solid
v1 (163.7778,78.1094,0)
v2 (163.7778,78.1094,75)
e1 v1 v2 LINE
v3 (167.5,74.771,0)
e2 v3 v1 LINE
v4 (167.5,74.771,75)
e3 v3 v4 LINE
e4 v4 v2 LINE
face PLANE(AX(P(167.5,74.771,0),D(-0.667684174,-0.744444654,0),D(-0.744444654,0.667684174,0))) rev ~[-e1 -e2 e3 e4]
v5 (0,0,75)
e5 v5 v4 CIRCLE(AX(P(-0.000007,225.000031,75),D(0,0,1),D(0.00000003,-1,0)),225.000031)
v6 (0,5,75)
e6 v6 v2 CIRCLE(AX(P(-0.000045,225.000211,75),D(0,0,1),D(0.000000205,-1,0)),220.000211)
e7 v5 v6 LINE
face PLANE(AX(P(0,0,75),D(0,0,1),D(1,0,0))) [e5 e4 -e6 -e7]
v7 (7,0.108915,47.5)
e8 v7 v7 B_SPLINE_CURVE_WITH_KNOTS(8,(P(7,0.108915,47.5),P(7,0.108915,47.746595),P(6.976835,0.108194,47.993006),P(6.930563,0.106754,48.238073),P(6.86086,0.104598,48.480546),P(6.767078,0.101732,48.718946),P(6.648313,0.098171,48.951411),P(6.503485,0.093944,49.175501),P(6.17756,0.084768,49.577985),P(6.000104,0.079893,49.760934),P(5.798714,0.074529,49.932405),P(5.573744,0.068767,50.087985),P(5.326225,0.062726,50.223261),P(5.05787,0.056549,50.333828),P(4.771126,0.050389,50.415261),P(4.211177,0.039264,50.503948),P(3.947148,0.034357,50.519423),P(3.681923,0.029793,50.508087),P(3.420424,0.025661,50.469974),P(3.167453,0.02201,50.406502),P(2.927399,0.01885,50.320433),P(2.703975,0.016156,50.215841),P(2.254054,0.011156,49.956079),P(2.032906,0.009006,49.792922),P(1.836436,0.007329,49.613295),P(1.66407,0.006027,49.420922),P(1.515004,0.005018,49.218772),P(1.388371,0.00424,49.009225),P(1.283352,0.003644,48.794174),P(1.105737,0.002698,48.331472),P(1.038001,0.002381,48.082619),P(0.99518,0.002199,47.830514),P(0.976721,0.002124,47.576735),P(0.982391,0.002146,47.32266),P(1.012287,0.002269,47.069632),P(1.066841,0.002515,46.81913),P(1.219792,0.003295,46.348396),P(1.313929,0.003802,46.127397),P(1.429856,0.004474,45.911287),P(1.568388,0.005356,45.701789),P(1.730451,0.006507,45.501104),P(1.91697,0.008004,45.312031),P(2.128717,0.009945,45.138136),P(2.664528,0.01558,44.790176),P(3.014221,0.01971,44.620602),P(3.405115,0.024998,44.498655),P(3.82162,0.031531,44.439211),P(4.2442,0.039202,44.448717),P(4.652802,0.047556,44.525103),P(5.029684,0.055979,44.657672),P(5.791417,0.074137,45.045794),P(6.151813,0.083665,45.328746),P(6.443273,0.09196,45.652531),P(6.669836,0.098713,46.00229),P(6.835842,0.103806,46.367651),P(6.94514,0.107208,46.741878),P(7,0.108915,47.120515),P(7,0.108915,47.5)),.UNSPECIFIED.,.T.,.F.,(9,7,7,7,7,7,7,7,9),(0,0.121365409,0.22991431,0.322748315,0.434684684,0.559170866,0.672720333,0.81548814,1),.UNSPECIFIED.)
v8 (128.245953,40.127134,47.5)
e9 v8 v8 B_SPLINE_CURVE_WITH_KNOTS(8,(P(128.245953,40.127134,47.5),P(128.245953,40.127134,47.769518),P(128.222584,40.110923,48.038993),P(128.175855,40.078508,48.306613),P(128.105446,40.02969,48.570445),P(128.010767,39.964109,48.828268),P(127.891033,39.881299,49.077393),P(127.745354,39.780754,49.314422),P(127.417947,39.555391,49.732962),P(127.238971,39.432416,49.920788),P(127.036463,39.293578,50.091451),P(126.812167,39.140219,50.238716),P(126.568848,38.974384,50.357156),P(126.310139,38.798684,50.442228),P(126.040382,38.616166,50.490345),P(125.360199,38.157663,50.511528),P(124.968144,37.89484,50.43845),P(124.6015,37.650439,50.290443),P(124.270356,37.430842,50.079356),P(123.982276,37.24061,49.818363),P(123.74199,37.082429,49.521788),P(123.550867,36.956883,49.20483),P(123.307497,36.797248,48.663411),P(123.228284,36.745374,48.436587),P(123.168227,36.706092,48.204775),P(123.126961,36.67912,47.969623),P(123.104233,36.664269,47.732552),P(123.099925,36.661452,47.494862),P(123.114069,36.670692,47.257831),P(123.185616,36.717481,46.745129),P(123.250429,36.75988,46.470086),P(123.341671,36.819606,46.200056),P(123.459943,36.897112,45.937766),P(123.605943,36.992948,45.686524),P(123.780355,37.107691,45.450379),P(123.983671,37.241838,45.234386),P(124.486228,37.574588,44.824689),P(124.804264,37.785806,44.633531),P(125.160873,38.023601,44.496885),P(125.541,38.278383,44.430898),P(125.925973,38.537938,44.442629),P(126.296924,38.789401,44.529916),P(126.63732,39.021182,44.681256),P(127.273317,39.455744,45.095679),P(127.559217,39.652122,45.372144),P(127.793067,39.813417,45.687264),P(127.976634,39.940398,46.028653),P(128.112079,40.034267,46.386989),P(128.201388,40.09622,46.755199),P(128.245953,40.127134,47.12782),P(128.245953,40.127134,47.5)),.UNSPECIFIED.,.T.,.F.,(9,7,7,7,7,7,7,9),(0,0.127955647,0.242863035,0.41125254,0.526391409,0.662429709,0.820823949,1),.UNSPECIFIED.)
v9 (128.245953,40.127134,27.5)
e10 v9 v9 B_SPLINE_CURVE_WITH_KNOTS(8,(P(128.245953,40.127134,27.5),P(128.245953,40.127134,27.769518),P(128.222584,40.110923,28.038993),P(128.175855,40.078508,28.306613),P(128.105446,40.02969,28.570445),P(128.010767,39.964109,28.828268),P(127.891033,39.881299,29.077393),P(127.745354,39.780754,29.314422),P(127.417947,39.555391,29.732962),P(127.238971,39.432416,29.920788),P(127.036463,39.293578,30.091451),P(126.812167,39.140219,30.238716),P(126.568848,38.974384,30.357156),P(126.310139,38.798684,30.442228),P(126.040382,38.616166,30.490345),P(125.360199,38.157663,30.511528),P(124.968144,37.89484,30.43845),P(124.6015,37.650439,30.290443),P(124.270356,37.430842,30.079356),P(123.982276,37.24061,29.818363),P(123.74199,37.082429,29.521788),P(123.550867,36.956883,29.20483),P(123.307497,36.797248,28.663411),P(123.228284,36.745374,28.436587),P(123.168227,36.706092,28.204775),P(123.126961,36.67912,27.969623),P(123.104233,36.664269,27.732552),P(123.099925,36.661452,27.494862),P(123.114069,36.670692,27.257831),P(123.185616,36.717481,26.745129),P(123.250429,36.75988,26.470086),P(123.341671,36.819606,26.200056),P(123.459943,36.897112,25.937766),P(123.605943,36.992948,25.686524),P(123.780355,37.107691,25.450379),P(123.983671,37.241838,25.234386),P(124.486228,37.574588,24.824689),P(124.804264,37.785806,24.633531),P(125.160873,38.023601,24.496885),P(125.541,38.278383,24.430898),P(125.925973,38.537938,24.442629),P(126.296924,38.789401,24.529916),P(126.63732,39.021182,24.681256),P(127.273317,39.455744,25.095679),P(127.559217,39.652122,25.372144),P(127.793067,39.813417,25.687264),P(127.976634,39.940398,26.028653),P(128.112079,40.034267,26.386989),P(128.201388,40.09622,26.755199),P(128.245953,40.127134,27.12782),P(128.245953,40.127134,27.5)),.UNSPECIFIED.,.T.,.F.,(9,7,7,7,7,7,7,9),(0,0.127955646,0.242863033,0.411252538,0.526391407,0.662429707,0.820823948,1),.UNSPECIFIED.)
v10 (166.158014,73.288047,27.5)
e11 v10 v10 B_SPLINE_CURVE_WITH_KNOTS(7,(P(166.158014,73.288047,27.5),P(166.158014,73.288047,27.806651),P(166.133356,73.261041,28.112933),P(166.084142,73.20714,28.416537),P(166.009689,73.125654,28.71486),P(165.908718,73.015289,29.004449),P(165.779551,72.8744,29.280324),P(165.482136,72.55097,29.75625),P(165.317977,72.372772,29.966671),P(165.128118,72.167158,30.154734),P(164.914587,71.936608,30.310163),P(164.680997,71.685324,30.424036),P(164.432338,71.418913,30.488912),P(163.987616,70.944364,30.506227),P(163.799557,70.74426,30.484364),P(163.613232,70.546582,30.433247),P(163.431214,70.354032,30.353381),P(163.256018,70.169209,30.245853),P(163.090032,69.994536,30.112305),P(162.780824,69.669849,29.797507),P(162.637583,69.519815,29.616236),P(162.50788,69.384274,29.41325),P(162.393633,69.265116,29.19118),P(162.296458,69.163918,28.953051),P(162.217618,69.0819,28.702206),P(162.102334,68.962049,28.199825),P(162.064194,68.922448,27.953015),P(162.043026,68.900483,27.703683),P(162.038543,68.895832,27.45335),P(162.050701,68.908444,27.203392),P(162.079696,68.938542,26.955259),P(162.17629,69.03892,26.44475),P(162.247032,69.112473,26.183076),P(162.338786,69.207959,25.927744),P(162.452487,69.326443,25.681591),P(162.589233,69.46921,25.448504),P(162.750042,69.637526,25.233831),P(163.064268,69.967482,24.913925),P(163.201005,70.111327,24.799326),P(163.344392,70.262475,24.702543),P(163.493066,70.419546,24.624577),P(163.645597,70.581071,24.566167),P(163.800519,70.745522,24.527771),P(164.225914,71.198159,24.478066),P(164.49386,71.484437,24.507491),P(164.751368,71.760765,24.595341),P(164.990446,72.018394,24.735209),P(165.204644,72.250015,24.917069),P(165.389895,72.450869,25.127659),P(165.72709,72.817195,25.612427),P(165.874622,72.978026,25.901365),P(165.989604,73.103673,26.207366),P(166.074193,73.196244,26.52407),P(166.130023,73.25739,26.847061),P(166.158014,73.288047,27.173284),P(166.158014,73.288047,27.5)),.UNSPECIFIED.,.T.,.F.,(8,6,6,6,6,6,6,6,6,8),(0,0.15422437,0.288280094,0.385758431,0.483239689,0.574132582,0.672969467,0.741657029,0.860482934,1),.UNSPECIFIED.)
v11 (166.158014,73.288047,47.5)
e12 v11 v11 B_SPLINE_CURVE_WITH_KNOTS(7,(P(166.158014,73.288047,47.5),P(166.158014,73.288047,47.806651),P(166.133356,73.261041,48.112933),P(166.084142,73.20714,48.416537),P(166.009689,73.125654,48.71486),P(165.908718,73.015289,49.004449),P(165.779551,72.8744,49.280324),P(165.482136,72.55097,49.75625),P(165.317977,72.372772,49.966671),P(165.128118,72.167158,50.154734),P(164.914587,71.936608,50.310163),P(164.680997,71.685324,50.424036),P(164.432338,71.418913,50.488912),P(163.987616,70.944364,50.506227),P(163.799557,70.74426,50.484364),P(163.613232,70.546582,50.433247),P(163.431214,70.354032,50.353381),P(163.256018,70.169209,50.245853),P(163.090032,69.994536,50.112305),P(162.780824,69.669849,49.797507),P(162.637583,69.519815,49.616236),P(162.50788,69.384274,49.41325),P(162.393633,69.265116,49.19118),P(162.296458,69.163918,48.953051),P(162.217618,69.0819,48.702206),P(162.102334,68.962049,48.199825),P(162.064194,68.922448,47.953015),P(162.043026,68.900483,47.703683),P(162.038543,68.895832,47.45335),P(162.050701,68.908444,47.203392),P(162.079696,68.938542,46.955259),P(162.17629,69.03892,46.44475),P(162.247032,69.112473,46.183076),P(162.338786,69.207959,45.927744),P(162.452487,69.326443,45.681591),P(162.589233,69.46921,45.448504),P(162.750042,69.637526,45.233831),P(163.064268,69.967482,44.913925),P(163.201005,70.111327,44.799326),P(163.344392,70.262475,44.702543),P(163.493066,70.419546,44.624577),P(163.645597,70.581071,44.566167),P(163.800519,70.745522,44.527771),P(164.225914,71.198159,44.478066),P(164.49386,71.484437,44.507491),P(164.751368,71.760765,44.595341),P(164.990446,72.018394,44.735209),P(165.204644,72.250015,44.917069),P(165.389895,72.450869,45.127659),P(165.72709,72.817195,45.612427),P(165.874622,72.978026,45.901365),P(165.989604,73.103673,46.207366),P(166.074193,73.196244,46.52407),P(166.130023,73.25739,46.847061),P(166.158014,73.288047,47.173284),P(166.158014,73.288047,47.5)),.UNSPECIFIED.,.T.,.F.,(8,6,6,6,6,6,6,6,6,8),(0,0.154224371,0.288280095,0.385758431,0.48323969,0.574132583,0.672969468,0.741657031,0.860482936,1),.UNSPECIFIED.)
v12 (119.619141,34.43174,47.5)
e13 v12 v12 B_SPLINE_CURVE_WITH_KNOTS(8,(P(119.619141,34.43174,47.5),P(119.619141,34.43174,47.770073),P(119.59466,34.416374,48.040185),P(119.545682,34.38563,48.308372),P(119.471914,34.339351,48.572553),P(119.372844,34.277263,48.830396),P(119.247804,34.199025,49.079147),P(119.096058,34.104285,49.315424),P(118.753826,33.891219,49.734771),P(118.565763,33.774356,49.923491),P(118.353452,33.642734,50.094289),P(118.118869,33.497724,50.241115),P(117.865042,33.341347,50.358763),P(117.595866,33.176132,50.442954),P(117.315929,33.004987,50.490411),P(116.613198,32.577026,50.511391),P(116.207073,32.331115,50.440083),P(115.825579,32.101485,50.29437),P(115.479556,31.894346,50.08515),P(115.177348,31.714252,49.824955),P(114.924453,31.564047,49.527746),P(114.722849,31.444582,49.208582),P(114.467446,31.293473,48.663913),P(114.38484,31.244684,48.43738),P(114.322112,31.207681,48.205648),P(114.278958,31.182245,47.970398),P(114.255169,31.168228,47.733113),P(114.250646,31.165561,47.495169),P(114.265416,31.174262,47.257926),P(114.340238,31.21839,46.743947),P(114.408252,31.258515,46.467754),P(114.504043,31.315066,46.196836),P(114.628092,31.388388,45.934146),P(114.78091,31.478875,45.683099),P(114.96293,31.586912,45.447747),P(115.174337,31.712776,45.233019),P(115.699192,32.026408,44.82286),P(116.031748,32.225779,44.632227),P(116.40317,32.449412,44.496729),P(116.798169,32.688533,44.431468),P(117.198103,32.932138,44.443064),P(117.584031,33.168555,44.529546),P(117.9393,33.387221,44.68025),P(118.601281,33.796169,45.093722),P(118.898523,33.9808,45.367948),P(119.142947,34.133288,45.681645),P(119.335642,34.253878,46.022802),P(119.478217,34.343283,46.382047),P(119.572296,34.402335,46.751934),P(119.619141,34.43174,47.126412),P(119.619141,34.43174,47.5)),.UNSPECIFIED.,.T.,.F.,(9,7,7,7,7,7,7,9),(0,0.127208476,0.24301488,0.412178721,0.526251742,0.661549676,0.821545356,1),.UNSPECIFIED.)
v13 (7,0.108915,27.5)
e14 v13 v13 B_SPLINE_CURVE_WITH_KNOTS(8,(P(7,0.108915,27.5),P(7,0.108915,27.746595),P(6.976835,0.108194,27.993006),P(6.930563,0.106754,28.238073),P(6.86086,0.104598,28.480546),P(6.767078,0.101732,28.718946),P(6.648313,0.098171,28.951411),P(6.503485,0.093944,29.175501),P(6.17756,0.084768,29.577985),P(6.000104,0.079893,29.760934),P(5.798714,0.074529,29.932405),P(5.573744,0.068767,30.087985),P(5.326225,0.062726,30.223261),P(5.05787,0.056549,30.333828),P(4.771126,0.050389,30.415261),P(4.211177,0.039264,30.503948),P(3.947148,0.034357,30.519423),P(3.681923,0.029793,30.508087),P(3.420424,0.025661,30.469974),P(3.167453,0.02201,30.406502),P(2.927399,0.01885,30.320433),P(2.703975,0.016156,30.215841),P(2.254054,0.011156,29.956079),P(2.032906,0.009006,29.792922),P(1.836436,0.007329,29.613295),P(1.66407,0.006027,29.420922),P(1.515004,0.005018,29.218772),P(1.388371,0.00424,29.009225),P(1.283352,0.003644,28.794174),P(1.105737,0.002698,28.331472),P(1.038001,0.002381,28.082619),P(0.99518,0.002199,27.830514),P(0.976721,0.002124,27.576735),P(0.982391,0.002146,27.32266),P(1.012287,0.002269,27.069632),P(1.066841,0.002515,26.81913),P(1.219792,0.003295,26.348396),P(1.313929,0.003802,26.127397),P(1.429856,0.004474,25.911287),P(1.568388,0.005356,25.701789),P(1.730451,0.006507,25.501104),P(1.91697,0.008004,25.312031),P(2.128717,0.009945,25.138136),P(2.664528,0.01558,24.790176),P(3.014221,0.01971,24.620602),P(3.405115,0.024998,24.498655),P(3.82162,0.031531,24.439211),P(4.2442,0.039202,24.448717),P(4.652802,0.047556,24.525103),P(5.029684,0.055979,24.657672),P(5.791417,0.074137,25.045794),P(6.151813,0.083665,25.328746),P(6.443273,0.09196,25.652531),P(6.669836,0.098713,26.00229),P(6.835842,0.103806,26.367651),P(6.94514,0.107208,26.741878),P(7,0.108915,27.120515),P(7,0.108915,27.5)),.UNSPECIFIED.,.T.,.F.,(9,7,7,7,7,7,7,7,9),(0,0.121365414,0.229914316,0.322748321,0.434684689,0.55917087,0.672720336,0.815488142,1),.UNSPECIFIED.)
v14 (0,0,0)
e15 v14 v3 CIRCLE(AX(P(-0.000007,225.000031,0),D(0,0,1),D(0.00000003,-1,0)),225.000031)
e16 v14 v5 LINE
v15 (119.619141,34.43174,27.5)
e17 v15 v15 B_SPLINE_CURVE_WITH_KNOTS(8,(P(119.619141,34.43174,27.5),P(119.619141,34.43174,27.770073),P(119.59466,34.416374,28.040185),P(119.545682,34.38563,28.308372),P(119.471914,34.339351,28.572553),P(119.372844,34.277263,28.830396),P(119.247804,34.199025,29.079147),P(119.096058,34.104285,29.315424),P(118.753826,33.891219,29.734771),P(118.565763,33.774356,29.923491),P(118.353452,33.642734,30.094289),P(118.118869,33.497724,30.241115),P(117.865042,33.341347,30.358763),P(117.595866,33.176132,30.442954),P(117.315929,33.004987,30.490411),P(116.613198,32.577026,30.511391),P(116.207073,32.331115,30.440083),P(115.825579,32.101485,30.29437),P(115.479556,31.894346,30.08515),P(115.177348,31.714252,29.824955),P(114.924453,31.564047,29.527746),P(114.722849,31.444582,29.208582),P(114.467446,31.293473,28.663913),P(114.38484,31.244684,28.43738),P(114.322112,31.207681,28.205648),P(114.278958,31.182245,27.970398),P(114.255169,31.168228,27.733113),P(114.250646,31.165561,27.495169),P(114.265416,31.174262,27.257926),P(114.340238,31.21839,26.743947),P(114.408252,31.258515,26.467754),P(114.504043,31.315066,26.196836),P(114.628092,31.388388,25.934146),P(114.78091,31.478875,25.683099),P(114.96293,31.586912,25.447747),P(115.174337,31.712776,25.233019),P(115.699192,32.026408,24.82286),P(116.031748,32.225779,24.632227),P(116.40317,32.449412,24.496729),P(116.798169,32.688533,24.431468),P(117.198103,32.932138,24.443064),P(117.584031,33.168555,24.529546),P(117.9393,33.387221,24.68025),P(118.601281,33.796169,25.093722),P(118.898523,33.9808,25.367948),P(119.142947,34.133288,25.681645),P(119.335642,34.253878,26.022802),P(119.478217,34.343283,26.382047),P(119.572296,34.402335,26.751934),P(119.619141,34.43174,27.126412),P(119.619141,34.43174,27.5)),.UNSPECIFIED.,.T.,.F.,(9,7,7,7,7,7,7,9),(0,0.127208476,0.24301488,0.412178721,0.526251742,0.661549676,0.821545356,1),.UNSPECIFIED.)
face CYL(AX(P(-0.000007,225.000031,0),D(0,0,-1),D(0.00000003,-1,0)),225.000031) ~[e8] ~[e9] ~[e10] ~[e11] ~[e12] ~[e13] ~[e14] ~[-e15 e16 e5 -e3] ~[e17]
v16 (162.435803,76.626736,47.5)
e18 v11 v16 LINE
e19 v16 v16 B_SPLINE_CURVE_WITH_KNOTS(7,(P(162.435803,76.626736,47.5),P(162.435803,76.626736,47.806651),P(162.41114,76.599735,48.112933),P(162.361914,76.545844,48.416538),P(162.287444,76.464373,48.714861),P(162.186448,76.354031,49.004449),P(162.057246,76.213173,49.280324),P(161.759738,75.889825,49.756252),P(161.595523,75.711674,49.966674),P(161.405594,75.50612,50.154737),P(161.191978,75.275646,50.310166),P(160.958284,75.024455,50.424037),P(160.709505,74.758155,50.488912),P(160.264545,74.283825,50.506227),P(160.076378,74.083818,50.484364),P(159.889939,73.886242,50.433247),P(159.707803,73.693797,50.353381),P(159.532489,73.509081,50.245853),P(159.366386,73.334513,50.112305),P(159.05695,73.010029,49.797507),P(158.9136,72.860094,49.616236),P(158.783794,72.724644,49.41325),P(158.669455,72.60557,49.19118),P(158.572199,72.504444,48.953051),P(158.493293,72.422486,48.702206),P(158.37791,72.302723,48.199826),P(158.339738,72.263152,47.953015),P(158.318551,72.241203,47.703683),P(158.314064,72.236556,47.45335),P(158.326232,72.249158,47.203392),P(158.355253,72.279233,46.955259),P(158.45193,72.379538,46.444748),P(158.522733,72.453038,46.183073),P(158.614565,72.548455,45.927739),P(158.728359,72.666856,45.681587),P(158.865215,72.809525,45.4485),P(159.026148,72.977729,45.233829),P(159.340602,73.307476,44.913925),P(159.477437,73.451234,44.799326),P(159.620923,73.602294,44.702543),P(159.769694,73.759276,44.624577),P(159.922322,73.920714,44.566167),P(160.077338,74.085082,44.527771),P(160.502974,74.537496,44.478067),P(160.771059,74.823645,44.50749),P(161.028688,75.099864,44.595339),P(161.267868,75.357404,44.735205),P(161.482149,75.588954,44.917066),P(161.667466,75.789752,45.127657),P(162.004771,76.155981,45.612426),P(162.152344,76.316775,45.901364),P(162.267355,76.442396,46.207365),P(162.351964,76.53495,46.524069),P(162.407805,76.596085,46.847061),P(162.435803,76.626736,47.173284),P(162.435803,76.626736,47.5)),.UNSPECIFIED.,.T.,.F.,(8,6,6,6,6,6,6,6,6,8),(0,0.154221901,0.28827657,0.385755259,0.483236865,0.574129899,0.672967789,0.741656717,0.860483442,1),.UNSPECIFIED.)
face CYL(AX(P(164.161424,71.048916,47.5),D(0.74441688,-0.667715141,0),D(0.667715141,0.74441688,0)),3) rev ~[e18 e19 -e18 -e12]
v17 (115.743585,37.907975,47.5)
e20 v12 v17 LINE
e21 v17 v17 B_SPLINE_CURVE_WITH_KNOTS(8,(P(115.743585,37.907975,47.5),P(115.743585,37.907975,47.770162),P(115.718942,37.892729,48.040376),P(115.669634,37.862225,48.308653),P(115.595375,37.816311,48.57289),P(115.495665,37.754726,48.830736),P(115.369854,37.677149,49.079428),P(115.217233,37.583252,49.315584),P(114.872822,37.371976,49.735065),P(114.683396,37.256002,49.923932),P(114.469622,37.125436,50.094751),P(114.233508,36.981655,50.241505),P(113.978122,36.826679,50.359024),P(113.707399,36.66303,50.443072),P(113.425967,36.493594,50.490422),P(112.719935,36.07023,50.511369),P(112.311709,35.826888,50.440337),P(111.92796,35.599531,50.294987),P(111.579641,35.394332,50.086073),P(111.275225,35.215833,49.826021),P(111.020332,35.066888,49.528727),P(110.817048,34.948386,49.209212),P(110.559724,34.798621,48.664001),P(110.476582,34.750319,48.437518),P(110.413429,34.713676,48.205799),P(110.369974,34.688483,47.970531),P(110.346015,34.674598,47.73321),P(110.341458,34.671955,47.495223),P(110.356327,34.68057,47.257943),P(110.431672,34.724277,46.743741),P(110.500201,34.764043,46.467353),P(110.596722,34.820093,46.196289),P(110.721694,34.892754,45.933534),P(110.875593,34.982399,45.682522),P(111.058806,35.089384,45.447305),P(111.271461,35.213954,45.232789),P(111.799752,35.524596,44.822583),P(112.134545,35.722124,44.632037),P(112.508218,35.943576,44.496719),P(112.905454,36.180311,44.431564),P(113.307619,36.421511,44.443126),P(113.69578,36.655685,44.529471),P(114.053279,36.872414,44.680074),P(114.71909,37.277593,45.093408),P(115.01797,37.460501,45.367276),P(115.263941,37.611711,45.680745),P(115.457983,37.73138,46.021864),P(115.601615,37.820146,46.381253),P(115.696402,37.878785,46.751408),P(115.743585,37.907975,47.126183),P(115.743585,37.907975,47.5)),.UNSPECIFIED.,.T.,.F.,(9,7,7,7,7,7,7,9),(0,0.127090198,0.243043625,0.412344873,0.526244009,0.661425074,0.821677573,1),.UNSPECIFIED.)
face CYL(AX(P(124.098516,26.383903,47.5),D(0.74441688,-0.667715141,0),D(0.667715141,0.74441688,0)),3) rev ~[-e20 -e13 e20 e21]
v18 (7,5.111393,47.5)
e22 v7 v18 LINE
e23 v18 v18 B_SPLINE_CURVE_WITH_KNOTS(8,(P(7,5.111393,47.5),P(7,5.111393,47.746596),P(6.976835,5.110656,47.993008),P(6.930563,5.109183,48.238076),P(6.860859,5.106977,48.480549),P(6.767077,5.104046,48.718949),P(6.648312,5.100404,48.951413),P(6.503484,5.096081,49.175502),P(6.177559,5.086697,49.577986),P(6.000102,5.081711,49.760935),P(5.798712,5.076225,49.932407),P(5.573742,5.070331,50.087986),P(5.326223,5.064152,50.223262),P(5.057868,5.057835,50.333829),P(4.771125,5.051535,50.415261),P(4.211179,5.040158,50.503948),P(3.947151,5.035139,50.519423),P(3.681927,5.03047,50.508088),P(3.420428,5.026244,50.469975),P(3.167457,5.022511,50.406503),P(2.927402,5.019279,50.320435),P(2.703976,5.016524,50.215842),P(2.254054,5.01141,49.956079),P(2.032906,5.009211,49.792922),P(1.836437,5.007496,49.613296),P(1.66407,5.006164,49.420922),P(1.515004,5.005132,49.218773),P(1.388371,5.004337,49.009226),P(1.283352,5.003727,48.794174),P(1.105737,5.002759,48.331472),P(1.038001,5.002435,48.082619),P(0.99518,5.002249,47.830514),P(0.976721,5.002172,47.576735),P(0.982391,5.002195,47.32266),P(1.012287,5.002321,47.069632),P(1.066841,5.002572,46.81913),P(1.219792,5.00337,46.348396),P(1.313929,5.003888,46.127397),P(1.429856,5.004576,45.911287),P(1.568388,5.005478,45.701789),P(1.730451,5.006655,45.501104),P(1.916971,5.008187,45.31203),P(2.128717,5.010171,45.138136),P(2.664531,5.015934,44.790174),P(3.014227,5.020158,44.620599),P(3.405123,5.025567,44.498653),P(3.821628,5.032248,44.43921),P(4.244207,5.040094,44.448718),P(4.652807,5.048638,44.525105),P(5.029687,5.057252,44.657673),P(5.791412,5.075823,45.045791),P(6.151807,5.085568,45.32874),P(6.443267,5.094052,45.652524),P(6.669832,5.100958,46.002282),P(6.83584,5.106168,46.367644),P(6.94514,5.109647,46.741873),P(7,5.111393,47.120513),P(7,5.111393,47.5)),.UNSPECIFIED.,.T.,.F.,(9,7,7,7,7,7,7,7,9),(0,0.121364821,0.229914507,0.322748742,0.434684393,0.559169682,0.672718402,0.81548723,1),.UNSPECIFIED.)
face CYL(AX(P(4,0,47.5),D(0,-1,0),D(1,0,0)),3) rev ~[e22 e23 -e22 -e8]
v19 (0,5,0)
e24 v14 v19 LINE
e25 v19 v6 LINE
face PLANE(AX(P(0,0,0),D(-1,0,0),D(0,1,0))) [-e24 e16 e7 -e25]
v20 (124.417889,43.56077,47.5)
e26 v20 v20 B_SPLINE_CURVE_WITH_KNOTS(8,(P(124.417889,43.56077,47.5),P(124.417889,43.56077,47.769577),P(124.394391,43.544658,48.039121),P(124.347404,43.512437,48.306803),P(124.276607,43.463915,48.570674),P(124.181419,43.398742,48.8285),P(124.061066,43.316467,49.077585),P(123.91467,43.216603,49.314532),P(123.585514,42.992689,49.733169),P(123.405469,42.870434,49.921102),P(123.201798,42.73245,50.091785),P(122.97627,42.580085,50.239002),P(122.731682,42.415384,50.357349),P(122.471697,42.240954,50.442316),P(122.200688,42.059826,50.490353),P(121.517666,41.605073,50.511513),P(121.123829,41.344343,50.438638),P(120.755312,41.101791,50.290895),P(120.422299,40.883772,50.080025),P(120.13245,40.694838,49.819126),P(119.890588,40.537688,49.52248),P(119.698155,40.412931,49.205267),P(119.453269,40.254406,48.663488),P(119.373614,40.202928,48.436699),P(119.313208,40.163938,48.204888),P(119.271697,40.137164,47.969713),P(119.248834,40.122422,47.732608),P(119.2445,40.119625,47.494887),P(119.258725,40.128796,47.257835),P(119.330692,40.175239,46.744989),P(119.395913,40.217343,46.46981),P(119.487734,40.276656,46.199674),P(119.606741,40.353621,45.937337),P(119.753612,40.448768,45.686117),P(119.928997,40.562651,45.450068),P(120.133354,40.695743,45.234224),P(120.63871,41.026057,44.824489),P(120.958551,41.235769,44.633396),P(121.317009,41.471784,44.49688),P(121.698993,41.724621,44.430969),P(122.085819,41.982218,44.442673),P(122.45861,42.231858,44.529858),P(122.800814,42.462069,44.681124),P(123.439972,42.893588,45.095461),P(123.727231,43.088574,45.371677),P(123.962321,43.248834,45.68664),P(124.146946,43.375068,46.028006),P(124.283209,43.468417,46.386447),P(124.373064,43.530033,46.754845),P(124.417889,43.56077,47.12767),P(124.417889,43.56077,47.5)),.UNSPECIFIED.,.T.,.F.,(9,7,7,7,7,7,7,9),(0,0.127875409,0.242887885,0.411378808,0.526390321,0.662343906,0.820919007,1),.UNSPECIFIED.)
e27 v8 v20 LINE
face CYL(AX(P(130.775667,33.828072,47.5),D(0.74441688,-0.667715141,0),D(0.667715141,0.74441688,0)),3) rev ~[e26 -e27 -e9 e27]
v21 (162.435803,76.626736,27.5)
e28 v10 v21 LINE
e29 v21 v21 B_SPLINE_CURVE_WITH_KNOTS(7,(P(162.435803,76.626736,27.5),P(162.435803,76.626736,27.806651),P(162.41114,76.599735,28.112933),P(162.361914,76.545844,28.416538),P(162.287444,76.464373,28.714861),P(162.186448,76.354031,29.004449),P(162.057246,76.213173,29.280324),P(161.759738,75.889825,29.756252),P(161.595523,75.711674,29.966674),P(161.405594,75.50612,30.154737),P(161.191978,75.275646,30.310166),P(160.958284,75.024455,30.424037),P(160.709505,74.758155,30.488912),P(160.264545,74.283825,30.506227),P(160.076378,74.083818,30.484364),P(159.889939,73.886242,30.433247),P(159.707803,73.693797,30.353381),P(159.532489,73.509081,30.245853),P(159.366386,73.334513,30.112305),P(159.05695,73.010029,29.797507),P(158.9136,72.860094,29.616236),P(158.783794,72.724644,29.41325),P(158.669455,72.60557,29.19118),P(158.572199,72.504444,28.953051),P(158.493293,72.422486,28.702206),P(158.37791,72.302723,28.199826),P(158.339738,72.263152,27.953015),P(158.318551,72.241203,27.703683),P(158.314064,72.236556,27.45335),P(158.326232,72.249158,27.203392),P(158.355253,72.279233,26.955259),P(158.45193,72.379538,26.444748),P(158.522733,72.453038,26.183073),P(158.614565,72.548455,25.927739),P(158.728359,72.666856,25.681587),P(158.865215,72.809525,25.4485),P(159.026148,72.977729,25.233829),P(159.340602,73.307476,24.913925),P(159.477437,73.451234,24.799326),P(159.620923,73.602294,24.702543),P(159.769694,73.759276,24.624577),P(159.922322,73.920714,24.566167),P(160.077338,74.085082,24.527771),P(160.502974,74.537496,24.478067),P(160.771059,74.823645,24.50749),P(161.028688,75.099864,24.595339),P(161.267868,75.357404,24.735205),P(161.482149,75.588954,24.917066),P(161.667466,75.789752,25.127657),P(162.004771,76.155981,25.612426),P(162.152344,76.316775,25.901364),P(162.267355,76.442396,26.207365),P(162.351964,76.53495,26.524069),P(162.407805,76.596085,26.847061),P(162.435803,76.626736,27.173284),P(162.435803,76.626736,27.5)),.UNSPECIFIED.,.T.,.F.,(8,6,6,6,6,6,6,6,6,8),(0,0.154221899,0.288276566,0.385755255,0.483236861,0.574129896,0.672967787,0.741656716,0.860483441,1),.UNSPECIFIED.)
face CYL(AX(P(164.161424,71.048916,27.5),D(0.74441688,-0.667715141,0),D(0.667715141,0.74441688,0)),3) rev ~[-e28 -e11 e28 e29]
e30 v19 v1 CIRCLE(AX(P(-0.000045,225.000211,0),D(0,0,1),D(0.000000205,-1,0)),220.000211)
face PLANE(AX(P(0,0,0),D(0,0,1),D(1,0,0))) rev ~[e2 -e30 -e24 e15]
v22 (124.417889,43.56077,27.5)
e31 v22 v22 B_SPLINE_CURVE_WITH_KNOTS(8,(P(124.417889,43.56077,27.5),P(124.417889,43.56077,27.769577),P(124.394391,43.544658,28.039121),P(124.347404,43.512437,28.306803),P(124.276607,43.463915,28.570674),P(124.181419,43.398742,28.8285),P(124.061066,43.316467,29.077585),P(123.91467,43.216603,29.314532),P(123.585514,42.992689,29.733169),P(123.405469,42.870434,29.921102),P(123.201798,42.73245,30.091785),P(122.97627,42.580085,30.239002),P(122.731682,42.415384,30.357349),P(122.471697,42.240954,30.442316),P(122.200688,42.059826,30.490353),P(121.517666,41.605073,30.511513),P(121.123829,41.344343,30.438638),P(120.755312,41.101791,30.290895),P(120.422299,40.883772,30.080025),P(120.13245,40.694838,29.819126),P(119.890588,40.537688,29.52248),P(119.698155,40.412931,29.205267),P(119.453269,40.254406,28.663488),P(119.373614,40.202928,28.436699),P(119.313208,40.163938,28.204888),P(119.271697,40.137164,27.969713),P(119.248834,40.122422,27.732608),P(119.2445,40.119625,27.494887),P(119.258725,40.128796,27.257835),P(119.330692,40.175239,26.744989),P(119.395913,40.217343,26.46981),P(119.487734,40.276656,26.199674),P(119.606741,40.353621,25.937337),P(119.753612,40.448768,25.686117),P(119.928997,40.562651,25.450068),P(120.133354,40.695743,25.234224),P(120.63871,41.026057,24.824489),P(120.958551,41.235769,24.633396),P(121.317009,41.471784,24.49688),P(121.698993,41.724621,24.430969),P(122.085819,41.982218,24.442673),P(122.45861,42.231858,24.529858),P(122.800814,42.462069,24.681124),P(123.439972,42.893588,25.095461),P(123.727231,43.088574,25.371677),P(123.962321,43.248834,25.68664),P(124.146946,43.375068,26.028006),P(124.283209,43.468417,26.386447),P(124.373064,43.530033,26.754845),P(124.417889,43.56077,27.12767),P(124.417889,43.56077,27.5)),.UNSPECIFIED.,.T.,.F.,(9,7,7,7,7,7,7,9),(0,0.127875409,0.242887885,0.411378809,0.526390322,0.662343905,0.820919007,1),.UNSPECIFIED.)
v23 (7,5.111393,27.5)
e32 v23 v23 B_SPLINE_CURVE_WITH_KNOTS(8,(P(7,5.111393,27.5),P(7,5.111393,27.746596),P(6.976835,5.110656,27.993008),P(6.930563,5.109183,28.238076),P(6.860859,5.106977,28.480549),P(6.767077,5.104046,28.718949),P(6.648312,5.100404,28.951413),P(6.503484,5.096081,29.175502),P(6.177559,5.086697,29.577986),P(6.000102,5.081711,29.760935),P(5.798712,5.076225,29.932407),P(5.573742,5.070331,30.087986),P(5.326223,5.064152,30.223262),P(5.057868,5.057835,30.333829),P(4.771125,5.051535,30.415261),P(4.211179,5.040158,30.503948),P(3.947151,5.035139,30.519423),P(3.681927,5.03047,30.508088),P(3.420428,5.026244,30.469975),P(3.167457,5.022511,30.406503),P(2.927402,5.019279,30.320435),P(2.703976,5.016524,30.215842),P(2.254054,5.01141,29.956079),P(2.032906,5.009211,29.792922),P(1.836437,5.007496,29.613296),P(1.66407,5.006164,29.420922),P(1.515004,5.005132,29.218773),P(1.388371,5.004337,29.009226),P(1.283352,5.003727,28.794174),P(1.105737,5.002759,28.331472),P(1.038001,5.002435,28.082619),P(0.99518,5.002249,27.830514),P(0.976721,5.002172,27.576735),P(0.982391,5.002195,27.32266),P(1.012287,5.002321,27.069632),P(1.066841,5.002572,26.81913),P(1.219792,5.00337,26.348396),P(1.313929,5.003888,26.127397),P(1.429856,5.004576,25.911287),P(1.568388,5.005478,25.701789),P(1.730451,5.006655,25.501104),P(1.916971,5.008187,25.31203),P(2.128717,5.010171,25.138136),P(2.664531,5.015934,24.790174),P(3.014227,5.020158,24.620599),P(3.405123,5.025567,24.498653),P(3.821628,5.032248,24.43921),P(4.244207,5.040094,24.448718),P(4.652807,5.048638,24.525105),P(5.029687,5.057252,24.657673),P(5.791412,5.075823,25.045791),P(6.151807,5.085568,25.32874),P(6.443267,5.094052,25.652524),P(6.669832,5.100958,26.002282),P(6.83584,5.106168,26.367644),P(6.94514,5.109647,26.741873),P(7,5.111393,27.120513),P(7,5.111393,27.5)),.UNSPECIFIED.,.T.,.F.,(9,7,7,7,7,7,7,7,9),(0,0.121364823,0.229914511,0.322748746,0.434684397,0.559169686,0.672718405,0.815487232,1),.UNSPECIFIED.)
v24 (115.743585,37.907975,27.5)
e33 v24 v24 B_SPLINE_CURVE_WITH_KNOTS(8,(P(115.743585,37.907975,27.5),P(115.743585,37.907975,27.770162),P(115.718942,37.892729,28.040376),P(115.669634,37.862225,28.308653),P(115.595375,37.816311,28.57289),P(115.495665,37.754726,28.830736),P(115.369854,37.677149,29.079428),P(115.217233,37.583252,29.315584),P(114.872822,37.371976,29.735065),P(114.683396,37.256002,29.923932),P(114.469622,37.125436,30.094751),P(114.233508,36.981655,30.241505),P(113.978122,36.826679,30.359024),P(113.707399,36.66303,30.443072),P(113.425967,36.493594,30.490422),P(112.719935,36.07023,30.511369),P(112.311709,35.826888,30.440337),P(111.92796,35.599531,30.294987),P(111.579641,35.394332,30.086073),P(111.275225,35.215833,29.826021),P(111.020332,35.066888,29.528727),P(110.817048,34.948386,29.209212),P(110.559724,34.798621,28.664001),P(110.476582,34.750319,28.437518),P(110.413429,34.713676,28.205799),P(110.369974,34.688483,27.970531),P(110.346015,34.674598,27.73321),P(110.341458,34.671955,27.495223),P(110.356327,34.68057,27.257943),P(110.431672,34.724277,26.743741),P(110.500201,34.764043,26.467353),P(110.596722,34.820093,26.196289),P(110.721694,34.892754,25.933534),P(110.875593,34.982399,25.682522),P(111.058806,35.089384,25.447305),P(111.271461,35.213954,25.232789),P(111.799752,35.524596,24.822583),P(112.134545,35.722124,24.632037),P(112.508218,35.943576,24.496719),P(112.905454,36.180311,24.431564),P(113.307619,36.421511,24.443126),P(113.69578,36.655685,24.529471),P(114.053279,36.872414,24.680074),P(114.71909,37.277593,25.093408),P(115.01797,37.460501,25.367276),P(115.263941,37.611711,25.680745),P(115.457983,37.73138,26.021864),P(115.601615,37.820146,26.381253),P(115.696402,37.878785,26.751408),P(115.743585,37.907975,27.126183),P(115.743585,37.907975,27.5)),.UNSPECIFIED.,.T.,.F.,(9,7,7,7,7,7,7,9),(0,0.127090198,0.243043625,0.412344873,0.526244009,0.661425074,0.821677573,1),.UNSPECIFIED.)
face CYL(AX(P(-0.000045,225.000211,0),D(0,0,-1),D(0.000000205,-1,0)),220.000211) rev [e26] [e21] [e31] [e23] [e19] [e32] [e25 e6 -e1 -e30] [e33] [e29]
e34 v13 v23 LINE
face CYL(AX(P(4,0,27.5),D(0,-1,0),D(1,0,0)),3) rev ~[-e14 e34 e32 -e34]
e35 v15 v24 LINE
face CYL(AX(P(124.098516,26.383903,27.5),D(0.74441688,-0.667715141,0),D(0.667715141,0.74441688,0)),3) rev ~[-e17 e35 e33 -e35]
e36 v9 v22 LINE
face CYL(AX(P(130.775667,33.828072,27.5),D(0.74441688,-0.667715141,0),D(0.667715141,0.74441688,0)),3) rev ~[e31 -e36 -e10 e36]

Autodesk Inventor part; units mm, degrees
ref_plane "YZ Plane" through (0, 0, 0) normal (1, 0, 0) x (0, 1, 0)
sketch "Sketch1" plane through (0, 0, 0) normal (0, 0, 1) x (1, 0, 0)
  circle A0 centre (0, 225) radius 225 construction
  circle A1 centre (0, 225) radius 220 construction
  line L0 (0, 0) -> (0, 5)
  arc A2 (0, 0) -> (167.5, 74.771) centre (0, 225) ccw
  line L1 (167.5, 74.771) -> (163.7778, 78.1094)
  arc A3 (0, 5) -> (163.7778, 78.1094) centre (0, 225) ccw
  dimension "d0" = 450
  dimension "d1" = 5
  dimension "d2" = 5
  dimension "d6" = 167.5
extrude "Extrusion1" add sketch "Sketch1" along normal blind 75
ref_plane "Work Plane2" through (0, 0, 0) normal (0, -1, 0) x (1, 0, 0)
sketch "Sketch3" plane through (0, 0, 0) normal (0, -1, 0) x (1, 0, 0)
  circle A0 centre (4, 47.5) radius 3
  circle A1 centre (4, 27.5) radius 3
  point P0 (0, 0)
  dimension "d15" = 6
  dimension "d16" = 6
  dimension "d17" = 27.5
  dimension "d18" = 20
  dimension "d19" = 4
extrude "Extrusion3" cut sketch "Sketch3" along normal through all both and the other way through all
ref_plane "Work Plane3" through (167.5, 74.771, 0) normal (0.7444, -0.6677, 0) x (0.6677, 0.7444, 0)
sketch "Sketch4" plane through (167.5, 74.771, 0) normal (0.7444, -0.6677, 0) x (0.6677, 0.7444, 0)
  circle A0 centre (-55, 47.5) radius 3
  circle A1 centre (-55, 27.5) radius 3
  line L0 (-167.5, 0) -> (0, 0) projected
  line L1 (0, 0) -> (0, 75) projected
  circle A2 centre (-5, 47.5) radius 3
  circle A3 centre (-5, 27.5) radius 3
  circle A4 centre (-65, 27.5) radius 3
  circle A5 centre (-65, 47.5) radius 3
  dimension "d22" = 6
  dimension "d23" = 6
  dimension "d24" = 27.5
  dimension "d25" = 20
  dimension "d26" = 55
  dimension "d29" = 6
  dimension "d30" = 6
  dimension "d31" = 5
  dimension "d32" = 6
  dimension "d33" = 6
  dimension "d34" = 10
extrude "Extrusion4" cut sketch "Sketch4" along normal through all both and the other way through all
properties part number "CW003" material "ABS Plastic"
